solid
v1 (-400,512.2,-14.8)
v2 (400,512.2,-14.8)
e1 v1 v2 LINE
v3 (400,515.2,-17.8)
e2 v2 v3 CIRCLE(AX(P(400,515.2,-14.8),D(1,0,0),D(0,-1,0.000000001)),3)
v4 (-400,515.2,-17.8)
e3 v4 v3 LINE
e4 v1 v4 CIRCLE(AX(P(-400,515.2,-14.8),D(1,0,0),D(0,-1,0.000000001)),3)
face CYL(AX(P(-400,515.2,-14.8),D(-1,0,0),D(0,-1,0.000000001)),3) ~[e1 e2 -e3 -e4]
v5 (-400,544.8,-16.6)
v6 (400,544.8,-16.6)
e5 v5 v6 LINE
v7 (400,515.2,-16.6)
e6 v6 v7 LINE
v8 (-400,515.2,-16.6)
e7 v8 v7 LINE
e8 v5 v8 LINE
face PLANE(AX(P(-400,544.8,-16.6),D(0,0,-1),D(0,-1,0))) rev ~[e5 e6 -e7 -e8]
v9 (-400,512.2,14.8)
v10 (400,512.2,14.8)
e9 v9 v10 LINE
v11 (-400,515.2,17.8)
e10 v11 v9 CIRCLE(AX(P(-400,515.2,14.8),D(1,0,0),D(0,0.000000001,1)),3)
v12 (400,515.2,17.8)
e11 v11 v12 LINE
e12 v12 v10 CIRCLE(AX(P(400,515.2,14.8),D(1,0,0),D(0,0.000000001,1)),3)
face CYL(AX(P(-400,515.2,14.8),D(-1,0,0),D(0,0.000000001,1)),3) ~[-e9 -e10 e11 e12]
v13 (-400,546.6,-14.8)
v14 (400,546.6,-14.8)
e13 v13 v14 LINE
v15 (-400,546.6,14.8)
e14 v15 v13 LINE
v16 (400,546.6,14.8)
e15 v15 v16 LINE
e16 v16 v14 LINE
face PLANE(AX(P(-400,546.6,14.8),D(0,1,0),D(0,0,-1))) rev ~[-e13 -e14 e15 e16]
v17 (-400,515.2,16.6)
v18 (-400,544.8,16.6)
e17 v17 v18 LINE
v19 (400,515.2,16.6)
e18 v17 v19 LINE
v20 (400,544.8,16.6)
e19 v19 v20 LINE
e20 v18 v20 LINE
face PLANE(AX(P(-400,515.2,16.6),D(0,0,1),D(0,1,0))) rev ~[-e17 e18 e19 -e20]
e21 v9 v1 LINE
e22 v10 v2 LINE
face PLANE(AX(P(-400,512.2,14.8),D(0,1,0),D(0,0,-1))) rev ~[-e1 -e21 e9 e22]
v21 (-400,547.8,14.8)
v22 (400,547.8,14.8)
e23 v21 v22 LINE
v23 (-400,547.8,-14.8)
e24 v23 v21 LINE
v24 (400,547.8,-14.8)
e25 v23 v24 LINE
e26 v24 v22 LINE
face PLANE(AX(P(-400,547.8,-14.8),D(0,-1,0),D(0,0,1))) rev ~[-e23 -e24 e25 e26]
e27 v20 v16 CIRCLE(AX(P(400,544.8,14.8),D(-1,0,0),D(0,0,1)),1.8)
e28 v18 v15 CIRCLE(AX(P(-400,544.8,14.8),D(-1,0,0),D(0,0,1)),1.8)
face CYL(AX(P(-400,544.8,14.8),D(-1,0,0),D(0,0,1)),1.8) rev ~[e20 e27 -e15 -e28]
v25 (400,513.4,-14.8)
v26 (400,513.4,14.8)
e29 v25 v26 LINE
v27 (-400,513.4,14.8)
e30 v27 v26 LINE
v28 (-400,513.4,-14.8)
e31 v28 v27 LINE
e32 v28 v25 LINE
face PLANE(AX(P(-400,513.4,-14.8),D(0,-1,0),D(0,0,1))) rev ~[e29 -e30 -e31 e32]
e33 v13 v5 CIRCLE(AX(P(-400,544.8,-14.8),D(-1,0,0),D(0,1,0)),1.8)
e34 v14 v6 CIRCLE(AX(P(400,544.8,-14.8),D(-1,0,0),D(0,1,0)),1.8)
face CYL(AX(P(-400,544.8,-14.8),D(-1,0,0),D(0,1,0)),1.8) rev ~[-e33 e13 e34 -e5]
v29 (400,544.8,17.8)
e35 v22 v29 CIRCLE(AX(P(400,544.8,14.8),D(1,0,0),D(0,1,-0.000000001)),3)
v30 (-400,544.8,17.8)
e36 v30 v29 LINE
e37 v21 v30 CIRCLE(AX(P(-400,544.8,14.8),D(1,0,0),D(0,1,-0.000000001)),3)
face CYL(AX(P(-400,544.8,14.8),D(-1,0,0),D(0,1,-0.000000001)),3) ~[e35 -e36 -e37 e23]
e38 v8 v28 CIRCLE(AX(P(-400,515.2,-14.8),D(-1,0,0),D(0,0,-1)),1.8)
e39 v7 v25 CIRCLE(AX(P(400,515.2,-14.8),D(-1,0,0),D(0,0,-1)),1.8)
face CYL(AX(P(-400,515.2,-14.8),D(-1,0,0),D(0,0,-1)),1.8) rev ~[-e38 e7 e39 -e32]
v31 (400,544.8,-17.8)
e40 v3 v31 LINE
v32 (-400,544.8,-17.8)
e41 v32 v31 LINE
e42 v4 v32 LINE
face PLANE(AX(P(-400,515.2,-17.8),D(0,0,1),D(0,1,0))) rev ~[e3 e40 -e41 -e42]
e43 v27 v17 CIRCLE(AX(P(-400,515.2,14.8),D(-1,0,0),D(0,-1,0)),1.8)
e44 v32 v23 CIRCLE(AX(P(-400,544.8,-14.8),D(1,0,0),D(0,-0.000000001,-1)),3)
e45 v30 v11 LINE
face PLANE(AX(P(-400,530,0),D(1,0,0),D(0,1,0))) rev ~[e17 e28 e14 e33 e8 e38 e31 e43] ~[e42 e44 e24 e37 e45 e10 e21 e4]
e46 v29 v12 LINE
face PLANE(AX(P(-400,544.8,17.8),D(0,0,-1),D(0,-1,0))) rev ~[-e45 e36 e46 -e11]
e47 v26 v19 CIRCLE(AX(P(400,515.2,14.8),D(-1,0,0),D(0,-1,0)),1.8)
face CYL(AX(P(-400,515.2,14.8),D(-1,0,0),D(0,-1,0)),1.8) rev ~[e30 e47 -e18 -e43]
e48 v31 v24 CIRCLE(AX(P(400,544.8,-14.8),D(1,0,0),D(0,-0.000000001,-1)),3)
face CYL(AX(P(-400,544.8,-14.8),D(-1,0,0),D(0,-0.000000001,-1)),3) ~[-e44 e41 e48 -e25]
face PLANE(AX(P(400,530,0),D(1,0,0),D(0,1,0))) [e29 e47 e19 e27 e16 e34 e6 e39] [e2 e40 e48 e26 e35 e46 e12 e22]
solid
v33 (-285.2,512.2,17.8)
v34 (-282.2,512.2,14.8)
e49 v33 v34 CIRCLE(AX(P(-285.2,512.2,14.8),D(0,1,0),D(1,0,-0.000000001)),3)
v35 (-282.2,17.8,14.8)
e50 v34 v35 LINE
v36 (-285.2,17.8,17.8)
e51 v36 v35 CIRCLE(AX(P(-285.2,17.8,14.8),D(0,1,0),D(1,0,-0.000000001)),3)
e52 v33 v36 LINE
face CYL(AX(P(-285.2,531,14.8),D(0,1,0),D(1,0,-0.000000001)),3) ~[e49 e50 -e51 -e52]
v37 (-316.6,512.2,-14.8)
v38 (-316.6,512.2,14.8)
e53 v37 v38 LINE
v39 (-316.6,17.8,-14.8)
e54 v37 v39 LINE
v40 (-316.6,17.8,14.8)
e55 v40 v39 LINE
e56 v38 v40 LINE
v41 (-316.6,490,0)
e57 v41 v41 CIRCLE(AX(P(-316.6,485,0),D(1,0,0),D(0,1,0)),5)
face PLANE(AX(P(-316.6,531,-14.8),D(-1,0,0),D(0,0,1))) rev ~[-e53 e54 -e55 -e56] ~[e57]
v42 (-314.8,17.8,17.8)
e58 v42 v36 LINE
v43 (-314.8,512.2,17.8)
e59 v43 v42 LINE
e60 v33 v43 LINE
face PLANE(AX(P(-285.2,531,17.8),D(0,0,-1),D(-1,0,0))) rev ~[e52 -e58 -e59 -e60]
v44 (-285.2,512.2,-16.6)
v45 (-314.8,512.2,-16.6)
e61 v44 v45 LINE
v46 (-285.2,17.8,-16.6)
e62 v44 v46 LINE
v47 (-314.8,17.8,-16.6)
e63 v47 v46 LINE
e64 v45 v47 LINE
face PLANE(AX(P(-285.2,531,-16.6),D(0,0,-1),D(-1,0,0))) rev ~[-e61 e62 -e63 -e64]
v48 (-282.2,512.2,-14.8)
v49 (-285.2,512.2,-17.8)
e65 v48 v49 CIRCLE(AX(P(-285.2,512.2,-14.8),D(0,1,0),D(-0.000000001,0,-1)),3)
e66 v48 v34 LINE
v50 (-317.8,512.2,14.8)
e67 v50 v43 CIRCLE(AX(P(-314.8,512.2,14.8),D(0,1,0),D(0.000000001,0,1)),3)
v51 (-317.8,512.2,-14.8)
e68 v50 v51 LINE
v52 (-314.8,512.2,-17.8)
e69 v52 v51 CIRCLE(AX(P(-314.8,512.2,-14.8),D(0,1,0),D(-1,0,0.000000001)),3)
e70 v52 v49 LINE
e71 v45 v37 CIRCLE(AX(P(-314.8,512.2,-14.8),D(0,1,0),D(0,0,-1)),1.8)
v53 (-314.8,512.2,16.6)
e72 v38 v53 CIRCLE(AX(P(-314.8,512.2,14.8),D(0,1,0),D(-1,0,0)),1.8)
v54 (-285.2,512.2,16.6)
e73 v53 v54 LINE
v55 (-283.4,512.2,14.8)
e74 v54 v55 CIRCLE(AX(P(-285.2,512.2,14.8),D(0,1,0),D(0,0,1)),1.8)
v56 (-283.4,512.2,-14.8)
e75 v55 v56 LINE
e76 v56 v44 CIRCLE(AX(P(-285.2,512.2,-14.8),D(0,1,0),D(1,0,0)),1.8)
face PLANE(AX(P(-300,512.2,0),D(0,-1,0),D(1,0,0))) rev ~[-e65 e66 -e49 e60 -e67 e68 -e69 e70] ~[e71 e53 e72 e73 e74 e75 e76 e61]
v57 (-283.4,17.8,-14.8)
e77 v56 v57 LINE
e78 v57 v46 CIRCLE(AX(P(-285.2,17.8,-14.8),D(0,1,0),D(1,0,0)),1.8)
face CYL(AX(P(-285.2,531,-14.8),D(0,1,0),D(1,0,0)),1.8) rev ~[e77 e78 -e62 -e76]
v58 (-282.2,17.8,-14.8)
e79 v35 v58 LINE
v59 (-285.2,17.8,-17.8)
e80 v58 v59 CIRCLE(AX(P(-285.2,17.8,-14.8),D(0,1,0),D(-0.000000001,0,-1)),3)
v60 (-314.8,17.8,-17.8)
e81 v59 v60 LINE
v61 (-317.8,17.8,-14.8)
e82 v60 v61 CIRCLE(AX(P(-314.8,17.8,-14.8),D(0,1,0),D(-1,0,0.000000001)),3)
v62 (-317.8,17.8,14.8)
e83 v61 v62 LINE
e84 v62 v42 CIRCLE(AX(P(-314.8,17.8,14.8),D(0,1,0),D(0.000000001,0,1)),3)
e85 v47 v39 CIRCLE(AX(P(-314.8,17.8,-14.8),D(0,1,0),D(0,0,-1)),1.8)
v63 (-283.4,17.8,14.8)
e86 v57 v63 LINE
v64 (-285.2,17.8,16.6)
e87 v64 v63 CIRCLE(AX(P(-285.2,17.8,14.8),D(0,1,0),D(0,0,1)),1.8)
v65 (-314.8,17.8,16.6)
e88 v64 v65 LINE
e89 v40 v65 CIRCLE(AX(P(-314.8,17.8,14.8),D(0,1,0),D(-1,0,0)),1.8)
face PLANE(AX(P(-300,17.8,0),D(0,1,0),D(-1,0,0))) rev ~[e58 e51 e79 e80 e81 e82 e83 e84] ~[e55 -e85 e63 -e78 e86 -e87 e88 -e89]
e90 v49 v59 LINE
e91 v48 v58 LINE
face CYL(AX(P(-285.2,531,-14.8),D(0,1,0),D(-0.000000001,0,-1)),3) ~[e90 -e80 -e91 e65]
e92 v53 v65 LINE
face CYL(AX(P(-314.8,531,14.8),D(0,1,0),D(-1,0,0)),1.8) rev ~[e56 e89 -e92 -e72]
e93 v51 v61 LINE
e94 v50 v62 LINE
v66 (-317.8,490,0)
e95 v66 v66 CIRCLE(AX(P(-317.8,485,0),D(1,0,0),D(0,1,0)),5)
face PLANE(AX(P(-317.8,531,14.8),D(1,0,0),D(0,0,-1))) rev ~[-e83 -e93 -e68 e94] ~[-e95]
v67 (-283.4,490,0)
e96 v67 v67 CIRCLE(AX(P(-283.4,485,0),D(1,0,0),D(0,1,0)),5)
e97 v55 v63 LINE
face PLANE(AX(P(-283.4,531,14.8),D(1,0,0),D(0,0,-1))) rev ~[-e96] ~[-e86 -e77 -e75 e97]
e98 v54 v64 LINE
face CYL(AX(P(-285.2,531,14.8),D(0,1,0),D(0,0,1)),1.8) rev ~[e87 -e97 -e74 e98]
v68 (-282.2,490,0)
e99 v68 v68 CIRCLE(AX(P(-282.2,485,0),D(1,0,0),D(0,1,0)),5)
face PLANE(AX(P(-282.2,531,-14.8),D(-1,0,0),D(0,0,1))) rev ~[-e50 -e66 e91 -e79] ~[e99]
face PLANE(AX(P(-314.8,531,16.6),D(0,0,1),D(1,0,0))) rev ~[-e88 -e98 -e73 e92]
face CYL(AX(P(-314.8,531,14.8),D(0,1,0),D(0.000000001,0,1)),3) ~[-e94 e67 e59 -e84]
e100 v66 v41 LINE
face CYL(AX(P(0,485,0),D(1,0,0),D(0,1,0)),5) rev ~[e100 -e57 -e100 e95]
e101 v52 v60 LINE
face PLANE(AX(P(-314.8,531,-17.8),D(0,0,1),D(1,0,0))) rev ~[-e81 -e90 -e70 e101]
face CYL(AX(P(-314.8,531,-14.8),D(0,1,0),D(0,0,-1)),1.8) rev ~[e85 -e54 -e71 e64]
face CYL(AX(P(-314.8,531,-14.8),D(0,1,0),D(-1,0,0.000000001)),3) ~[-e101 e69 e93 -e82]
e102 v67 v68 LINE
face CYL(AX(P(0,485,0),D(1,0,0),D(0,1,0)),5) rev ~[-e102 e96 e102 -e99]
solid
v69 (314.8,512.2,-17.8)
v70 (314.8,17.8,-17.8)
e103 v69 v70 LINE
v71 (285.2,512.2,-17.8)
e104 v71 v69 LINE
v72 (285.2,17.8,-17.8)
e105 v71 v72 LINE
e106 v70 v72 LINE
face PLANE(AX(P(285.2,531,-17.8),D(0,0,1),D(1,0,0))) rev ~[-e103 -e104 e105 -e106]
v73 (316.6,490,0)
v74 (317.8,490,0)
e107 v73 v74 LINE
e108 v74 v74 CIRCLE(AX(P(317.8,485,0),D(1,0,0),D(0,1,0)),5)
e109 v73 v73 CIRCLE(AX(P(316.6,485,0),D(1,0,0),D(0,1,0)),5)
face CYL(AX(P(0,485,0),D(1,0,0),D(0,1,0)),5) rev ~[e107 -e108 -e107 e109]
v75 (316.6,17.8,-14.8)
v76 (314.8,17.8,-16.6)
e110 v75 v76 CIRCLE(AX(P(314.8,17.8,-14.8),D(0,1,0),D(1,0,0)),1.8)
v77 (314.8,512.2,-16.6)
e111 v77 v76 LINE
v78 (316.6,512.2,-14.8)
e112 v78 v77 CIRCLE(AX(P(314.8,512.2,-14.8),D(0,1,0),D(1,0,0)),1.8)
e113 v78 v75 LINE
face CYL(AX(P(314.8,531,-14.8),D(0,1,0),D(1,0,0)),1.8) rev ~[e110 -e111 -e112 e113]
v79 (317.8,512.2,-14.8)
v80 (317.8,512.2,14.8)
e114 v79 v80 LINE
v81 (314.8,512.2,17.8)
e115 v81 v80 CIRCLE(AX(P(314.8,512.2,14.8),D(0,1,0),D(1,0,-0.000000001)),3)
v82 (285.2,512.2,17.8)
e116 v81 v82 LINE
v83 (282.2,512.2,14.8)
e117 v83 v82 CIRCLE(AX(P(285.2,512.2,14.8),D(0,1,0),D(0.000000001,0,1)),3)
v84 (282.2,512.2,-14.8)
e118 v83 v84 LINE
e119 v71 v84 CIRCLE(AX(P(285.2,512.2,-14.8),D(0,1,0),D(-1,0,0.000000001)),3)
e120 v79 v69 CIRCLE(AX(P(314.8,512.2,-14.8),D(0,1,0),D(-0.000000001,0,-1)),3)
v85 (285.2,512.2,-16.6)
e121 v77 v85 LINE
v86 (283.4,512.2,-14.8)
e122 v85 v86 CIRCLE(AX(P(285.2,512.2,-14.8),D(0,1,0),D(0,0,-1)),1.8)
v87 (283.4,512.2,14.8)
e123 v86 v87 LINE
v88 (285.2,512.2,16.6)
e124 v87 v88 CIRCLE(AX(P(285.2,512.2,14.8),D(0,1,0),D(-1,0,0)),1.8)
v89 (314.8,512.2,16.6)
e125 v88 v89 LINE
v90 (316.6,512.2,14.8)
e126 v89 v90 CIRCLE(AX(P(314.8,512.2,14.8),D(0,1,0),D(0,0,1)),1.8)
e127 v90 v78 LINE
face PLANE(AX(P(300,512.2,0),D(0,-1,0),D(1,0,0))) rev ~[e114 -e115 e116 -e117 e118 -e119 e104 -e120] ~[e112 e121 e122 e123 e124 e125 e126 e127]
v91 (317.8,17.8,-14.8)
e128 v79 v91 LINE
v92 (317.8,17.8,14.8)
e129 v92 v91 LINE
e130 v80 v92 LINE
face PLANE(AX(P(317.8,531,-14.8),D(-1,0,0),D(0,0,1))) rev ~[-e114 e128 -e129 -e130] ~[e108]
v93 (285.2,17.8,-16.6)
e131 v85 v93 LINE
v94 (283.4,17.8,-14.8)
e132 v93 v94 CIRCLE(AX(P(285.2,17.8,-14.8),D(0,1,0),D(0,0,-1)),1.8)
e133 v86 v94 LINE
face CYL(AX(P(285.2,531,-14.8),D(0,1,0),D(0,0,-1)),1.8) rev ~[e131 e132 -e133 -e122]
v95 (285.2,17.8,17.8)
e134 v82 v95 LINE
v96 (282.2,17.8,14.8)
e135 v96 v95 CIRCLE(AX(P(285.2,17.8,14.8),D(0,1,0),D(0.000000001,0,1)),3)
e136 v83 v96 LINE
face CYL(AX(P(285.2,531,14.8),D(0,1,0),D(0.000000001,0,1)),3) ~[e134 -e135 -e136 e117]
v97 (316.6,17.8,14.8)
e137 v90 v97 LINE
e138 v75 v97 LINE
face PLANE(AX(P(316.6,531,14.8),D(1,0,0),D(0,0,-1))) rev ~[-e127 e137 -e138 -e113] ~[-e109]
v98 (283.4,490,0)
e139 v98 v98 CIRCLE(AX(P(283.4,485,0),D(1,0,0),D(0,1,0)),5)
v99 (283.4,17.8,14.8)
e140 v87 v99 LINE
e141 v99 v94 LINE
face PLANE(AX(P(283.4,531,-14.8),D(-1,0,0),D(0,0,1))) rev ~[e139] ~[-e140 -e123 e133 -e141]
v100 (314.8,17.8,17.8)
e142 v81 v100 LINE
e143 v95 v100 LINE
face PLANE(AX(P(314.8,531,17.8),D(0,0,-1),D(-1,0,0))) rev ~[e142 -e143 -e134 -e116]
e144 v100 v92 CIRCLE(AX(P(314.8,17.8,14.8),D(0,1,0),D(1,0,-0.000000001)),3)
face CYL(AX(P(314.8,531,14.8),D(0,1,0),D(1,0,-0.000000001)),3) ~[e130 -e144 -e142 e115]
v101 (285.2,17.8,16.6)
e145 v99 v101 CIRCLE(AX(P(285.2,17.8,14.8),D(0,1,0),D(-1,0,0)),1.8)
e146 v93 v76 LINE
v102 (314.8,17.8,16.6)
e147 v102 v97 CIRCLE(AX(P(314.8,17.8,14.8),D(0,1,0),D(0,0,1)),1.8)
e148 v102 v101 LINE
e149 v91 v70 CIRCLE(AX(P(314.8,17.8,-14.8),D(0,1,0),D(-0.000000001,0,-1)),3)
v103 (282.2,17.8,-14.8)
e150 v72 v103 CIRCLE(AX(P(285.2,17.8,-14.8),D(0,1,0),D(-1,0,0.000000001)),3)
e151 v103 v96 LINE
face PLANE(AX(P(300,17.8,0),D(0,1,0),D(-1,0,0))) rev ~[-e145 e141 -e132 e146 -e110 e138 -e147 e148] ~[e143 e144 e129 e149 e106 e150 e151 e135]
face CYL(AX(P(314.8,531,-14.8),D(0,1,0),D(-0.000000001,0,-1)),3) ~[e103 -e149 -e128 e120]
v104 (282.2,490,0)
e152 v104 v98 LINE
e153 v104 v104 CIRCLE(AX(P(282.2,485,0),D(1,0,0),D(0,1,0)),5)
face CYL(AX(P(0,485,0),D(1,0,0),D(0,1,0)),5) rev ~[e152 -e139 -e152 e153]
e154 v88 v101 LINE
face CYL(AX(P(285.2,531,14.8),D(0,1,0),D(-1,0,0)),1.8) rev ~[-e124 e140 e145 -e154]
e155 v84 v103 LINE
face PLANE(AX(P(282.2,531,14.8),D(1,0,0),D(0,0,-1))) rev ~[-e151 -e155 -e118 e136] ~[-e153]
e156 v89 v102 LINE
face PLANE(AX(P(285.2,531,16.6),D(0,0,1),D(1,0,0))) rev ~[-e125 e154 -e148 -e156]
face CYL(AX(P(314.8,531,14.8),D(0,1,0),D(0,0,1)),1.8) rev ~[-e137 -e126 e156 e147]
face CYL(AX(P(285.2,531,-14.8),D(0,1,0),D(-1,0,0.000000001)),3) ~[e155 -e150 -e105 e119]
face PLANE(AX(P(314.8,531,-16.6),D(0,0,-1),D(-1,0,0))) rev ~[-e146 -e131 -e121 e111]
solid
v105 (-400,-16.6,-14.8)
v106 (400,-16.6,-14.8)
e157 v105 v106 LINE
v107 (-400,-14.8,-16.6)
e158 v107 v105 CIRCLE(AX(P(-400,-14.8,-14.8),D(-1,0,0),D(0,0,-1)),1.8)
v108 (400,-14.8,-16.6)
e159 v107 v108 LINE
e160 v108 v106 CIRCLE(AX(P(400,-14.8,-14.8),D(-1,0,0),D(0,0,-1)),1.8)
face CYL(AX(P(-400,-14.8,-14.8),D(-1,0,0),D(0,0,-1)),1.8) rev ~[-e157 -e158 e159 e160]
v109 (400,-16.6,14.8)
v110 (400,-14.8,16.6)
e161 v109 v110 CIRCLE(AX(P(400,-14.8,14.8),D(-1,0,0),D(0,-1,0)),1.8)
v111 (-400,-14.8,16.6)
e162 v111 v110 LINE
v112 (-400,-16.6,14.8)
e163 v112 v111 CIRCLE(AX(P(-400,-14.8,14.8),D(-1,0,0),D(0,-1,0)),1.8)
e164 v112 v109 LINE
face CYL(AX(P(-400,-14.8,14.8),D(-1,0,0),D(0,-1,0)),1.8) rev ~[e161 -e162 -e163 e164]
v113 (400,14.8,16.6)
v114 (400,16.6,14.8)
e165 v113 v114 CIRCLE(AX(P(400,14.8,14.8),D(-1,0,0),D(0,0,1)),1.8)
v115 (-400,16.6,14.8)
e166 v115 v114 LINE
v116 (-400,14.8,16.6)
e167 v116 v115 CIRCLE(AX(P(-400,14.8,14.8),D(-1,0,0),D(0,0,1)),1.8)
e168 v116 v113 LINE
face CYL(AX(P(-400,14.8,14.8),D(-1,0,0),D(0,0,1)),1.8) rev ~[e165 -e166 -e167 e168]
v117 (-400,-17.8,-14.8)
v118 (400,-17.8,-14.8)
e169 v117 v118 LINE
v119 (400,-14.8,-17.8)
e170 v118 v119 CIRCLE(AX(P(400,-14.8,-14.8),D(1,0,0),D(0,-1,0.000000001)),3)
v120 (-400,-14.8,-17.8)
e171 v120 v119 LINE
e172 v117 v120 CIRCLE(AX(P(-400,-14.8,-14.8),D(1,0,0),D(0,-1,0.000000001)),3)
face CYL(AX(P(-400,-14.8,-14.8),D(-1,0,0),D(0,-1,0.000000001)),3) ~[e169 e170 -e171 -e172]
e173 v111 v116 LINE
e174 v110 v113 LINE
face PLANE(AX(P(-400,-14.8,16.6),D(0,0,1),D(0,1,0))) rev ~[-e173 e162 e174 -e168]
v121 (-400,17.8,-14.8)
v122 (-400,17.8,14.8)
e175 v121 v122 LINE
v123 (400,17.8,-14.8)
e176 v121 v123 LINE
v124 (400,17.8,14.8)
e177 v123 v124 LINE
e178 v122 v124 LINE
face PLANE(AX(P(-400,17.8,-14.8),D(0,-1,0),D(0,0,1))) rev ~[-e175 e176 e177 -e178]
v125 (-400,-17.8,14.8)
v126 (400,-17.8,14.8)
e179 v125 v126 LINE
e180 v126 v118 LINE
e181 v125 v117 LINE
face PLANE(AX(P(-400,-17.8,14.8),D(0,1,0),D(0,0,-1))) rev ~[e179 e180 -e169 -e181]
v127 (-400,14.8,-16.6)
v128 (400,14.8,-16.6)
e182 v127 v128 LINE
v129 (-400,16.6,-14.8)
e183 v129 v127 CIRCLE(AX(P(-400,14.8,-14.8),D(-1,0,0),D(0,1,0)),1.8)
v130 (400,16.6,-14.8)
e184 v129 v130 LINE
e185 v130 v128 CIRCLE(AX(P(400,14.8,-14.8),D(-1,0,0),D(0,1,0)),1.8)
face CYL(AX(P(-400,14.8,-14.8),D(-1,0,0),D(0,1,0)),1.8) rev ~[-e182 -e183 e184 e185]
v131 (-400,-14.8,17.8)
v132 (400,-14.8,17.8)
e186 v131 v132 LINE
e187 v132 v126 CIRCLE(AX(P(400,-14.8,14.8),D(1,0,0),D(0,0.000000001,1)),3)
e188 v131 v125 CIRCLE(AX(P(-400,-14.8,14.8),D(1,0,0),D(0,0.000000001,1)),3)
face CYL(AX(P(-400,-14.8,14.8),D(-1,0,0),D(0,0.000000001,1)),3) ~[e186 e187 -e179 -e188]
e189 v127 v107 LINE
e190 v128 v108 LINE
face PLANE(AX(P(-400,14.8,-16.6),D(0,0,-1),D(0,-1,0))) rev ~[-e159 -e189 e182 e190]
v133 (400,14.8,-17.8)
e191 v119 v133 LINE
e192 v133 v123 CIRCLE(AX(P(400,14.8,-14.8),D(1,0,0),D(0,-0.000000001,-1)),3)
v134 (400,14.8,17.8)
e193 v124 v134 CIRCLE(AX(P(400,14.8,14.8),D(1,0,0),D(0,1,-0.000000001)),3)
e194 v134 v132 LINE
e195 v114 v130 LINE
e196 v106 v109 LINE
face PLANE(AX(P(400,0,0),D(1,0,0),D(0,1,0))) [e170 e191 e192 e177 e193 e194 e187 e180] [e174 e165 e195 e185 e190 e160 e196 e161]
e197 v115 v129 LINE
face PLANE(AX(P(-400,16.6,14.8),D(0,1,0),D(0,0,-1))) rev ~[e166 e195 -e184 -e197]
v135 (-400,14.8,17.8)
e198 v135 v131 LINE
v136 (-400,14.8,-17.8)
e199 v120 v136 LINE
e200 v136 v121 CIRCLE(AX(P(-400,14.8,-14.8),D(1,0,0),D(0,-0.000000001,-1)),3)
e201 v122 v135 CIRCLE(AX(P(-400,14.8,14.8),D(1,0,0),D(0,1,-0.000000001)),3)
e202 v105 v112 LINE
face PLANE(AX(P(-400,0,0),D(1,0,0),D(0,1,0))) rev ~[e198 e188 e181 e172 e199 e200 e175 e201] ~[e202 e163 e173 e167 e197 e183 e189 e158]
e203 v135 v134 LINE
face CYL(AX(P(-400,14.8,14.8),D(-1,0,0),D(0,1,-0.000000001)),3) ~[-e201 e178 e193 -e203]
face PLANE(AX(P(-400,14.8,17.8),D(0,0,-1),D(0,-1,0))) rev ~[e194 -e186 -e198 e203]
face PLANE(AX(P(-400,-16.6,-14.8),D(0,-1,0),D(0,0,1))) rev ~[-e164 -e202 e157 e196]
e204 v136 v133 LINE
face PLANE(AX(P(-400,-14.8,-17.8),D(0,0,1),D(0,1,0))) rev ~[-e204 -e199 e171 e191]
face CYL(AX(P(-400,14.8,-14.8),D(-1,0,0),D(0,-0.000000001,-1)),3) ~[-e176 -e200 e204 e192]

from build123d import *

# Parameters (mm, degrees)
STRUCTURAL_MEMBER1_DEPTH   = 800
STRUCTURAL_MEMBER1_2_DEPTH = 800
STRUCTURAL_MEMBER1_3_DEPTH = 532
STRUCTURAL_MEMBER1_4_DEPTH = 532
SKETCH12_R                 = 5
CUT_EXTRUDE1_DEPTH         = 679.529056121
CUT_EXTRUDE1_DEPTH_BACK    = 679.529056121


with BuildPart() as part:
    # Sketch11 → Structural Member1 (new body)
    with BuildSketch(Plane(origin=(-400, 530, 0), x_dir=(0, 1, 0), z_dir=(1, 0, 0))):
        with BuildLine():
            Line((-14.8, -17.8), (14.8, -17.8))
            ThreePointArc((14.8, -17.8), (16.921320344, -16.921320344), (17.8, -14.8))
            Line((17.8, -14.8), (17.8, 14.8))
            ThreePointArc((17.8, 14.8), (16.921320344, 16.921320344), (14.8, 17.8))
            Line((14.8, 17.8), (-14.8, 17.8))
            ThreePointArc((-14.8, 17.8), (-16.921320344, 16.921320344), (-17.8, 14.8))
            Line((-17.8, 14.8), (-17.8, -14.8))
            ThreePointArc((-17.8, -14.8), (-16.921320344, -16.921320344), (-14.8, -17.8))
        make_face()
        with BuildLine():
            Line((-14.8, 16.6), (14.8, 16.6))
            ThreePointArc((14.8, 16.6), (16.072792206, 16.072792206), (16.6, 14.8))
            Line((16.6, 14.8), (16.6, -14.8))
            ThreePointArc((16.6, -14.8), (16.072792206, -16.072792206), (14.8, -16.6))
            Line((14.8, -16.6), (-14.8, -16.6))
            ThreePointArc((-14.8, -16.6), (-16.072792206, -16.072792206), (-16.6, -14.8))
            Line((-16.6, -14.8), (-16.6, 14.8))
            ThreePointArc((-16.6, 14.8), (-16.072792206, 16.072792206), (-14.8, 16.6))
        make_face(mode=Mode.SUBTRACT)
    extrude(amount=STRUCTURAL_MEMBER1_DEPTH)


with BuildPart() as body_2:
    # Sketch11 on segment 2 (carried to segment 2) → Structural Member1 2 (new body)
    with BuildSketch(Plane.YZ.offset(-400)):
        with BuildLine():
            Line((-14.8, -17.8), (14.8, -17.8))
            ThreePointArc((14.8, -17.8), (16.921320344, -16.921320344), (17.8, -14.8))
            Line((17.8, -14.8), (17.8, 14.8))
            ThreePointArc((17.8, 14.8), (16.921320344, 16.921320344), (14.8, 17.8))
            Line((14.8, 17.8), (-14.8, 17.8))
            ThreePointArc((-14.8, 17.8), (-16.921320344, 16.921320344), (-17.8, 14.8))
            Line((-17.8, 14.8), (-17.8, -14.8))
            ThreePointArc((-17.8, -14.8), (-16.921320344, -16.921320344), (-14.8, -17.8))
        make_face()
        with BuildLine():
            Line((-14.8, 16.6), (14.8, 16.6))
            ThreePointArc((14.8, 16.6), (16.072792206, 16.072792206), (16.6, 14.8))
            Line((16.6, 14.8), (16.6, -14.8))
            ThreePointArc((16.6, -14.8), (16.072792206, -16.072792206), (14.8, -16.6))
            Line((14.8, -16.6), (-14.8, -16.6))
            ThreePointArc((-14.8, -16.6), (-16.072792206, -16.072792206), (-16.6, -14.8))
            Line((-16.6, -14.8), (-16.6, 14.8))
            ThreePointArc((-16.6, 14.8), (-16.072792206, 16.072792206), (-14.8, 16.6))
        make_face(mode=Mode.SUBTRACT)
    extrude(amount=STRUCTURAL_MEMBER1_2_DEPTH)


with BuildPart() as body_3:
    # Sketch11 on segment 3 (carried to segment 3) → Structural Member1 3 (new body)
    with BuildSketch(Plane(origin=(-300, 531, 0), x_dir=(1, 0, 0), z_dir=(0, -1, 0))):
        with BuildLine():
            Line((-14.8, -17.8), (14.8, -17.8))
            ThreePointArc((14.8, -17.8), (16.921320344, -16.921320344), (17.8, -14.8))
            Line((17.8, -14.8), (17.8, 14.8))
            ThreePointArc((17.8, 14.8), (16.921320344, 16.921320344), (14.8, 17.8))
            Line((14.8, 17.8), (-14.8, 17.8))
            ThreePointArc((-14.8, 17.8), (-16.921320344, 16.921320344), (-17.8, 14.8))
            Line((-17.8, 14.8), (-17.8, -14.8))
            ThreePointArc((-17.8, -14.8), (-16.921320344, -16.921320344), (-14.8, -17.8))
        make_face()
        with BuildLine():
            Line((-14.8, 16.6), (14.8, 16.6))
            ThreePointArc((14.8, 16.6), (16.072792206, 16.072792206), (16.6, 14.8))
            Line((16.6, 14.8), (16.6, -14.8))
            ThreePointArc((16.6, -14.8), (16.072792206, -16.072792206), (14.8, -16.6))
            Line((14.8, -16.6), (-14.8, -16.6))
            ThreePointArc((-14.8, -16.6), (-16.072792206, -16.072792206), (-16.6, -14.8))
            Line((-16.6, -14.8), (-16.6, 14.8))
            ThreePointArc((-16.6, 14.8), (-16.072792206, 16.072792206), (-14.8, 16.6))
        make_face(mode=Mode.SUBTRACT)
    extrude(amount=STRUCTURAL_MEMBER1_3_DEPTH)

    # Structural Member1 3 end butt 1
    split(bisect_by=Plane(origin=(-300, 512.2, 0), x_dir=(1, 0, 0), z_dir=(0, -1, 0)), keep=Keep.TOP)

    # Structural Member1 3 end butt 2
    split(bisect_by=Plane(origin=(-300, 17.8, 0), x_dir=(-1, 0, 0), z_dir=(0, 1, 0)), keep=Keep.TOP)


with BuildPart() as body_4:
    # Sketch11 on segment 4 (carried to segment 4) → Structural Member1 4 (new body)
    with BuildSketch(Plane(origin=(300, 531, 0), x_dir=(1, 0, 0), z_dir=(0, -1, 0))):
        with BuildLine():
            Line((-14.8, -17.8), (14.8, -17.8))
            ThreePointArc((14.8, -17.8), (16.921320344, -16.921320344), (17.8, -14.8))
            Line((17.8, -14.8), (17.8, 14.8))
            ThreePointArc((17.8, 14.8), (16.921320344, 16.921320344), (14.8, 17.8))
            Line((14.8, 17.8), (-14.8, 17.8))
            ThreePointArc((-14.8, 17.8), (-16.921320344, 16.921320344), (-17.8, 14.8))
            Line((-17.8, 14.8), (-17.8, -14.8))
            ThreePointArc((-17.8, -14.8), (-16.921320344, -16.921320344), (-14.8, -17.8))
        make_face()
        with BuildLine():
            Line((-14.8, 16.6), (14.8, 16.6))
            ThreePointArc((14.8, 16.6), (16.072792206, 16.072792206), (16.6, 14.8))
            Line((16.6, 14.8), (16.6, -14.8))
            ThreePointArc((16.6, -14.8), (16.072792206, -16.072792206), (14.8, -16.6))
            Line((14.8, -16.6), (-14.8, -16.6))
            ThreePointArc((-14.8, -16.6), (-16.072792206, -16.072792206), (-16.6, -14.8))
            Line((-16.6, -14.8), (-16.6, 14.8))
            ThreePointArc((-16.6, 14.8), (-16.072792206, 16.072792206), (-14.8, 16.6))
        make_face(mode=Mode.SUBTRACT)
    extrude(amount=STRUCTURAL_MEMBER1_4_DEPTH)

    # Structural Member1 4 end butt 1
    split(bisect_by=Plane(origin=(300, 512.2, 0), x_dir=(1, 0, 0), z_dir=(0, -1, 0)), keep=Keep.TOP)

    # Structural Member1 4 end butt 2
    split(bisect_by=Plane(origin=(300, 17.8, 0), x_dir=(-1, 0, 0), z_dir=(0, 1, 0)), keep=Keep.TOP)


with BuildPart() as cut_extrude1_tool:
    # Sketch12 → Cut-Extrude1 (new, two sides)
    with BuildSketch(Plane(origin=(0, 0, 0), x_dir=(0, 0, -1), z_dir=(1, 0, 0))) as cut_extrude1_sk:
        with Locations(Location((0, 485, 0), (0, 0, 90))):
            Circle(SKETCH12_R)
    extrude(amount=CUT_EXTRUDE1_DEPTH)
    extrude(cut_extrude1_sk.sketch, amount=-CUT_EXTRUDE1_DEPTH_BACK)


with BuildPart() as body_3_1:
    add(body_3.part)

    # Cut-Extrude1: cut by cut_extrude1_tool
    add(cut_extrude1_tool.part, mode=Mode.SUBTRACT)


with BuildPart() as body_4_1:
    add(body_4.part)

    # Cut-Extrude1: cut by cut_extrude1_tool
    add(cut_extrude1_tool.part, mode=Mode.SUBTRACT)


solid = Compound([part.part, body_2.part, body_3_1.part, body_4_1.part])
